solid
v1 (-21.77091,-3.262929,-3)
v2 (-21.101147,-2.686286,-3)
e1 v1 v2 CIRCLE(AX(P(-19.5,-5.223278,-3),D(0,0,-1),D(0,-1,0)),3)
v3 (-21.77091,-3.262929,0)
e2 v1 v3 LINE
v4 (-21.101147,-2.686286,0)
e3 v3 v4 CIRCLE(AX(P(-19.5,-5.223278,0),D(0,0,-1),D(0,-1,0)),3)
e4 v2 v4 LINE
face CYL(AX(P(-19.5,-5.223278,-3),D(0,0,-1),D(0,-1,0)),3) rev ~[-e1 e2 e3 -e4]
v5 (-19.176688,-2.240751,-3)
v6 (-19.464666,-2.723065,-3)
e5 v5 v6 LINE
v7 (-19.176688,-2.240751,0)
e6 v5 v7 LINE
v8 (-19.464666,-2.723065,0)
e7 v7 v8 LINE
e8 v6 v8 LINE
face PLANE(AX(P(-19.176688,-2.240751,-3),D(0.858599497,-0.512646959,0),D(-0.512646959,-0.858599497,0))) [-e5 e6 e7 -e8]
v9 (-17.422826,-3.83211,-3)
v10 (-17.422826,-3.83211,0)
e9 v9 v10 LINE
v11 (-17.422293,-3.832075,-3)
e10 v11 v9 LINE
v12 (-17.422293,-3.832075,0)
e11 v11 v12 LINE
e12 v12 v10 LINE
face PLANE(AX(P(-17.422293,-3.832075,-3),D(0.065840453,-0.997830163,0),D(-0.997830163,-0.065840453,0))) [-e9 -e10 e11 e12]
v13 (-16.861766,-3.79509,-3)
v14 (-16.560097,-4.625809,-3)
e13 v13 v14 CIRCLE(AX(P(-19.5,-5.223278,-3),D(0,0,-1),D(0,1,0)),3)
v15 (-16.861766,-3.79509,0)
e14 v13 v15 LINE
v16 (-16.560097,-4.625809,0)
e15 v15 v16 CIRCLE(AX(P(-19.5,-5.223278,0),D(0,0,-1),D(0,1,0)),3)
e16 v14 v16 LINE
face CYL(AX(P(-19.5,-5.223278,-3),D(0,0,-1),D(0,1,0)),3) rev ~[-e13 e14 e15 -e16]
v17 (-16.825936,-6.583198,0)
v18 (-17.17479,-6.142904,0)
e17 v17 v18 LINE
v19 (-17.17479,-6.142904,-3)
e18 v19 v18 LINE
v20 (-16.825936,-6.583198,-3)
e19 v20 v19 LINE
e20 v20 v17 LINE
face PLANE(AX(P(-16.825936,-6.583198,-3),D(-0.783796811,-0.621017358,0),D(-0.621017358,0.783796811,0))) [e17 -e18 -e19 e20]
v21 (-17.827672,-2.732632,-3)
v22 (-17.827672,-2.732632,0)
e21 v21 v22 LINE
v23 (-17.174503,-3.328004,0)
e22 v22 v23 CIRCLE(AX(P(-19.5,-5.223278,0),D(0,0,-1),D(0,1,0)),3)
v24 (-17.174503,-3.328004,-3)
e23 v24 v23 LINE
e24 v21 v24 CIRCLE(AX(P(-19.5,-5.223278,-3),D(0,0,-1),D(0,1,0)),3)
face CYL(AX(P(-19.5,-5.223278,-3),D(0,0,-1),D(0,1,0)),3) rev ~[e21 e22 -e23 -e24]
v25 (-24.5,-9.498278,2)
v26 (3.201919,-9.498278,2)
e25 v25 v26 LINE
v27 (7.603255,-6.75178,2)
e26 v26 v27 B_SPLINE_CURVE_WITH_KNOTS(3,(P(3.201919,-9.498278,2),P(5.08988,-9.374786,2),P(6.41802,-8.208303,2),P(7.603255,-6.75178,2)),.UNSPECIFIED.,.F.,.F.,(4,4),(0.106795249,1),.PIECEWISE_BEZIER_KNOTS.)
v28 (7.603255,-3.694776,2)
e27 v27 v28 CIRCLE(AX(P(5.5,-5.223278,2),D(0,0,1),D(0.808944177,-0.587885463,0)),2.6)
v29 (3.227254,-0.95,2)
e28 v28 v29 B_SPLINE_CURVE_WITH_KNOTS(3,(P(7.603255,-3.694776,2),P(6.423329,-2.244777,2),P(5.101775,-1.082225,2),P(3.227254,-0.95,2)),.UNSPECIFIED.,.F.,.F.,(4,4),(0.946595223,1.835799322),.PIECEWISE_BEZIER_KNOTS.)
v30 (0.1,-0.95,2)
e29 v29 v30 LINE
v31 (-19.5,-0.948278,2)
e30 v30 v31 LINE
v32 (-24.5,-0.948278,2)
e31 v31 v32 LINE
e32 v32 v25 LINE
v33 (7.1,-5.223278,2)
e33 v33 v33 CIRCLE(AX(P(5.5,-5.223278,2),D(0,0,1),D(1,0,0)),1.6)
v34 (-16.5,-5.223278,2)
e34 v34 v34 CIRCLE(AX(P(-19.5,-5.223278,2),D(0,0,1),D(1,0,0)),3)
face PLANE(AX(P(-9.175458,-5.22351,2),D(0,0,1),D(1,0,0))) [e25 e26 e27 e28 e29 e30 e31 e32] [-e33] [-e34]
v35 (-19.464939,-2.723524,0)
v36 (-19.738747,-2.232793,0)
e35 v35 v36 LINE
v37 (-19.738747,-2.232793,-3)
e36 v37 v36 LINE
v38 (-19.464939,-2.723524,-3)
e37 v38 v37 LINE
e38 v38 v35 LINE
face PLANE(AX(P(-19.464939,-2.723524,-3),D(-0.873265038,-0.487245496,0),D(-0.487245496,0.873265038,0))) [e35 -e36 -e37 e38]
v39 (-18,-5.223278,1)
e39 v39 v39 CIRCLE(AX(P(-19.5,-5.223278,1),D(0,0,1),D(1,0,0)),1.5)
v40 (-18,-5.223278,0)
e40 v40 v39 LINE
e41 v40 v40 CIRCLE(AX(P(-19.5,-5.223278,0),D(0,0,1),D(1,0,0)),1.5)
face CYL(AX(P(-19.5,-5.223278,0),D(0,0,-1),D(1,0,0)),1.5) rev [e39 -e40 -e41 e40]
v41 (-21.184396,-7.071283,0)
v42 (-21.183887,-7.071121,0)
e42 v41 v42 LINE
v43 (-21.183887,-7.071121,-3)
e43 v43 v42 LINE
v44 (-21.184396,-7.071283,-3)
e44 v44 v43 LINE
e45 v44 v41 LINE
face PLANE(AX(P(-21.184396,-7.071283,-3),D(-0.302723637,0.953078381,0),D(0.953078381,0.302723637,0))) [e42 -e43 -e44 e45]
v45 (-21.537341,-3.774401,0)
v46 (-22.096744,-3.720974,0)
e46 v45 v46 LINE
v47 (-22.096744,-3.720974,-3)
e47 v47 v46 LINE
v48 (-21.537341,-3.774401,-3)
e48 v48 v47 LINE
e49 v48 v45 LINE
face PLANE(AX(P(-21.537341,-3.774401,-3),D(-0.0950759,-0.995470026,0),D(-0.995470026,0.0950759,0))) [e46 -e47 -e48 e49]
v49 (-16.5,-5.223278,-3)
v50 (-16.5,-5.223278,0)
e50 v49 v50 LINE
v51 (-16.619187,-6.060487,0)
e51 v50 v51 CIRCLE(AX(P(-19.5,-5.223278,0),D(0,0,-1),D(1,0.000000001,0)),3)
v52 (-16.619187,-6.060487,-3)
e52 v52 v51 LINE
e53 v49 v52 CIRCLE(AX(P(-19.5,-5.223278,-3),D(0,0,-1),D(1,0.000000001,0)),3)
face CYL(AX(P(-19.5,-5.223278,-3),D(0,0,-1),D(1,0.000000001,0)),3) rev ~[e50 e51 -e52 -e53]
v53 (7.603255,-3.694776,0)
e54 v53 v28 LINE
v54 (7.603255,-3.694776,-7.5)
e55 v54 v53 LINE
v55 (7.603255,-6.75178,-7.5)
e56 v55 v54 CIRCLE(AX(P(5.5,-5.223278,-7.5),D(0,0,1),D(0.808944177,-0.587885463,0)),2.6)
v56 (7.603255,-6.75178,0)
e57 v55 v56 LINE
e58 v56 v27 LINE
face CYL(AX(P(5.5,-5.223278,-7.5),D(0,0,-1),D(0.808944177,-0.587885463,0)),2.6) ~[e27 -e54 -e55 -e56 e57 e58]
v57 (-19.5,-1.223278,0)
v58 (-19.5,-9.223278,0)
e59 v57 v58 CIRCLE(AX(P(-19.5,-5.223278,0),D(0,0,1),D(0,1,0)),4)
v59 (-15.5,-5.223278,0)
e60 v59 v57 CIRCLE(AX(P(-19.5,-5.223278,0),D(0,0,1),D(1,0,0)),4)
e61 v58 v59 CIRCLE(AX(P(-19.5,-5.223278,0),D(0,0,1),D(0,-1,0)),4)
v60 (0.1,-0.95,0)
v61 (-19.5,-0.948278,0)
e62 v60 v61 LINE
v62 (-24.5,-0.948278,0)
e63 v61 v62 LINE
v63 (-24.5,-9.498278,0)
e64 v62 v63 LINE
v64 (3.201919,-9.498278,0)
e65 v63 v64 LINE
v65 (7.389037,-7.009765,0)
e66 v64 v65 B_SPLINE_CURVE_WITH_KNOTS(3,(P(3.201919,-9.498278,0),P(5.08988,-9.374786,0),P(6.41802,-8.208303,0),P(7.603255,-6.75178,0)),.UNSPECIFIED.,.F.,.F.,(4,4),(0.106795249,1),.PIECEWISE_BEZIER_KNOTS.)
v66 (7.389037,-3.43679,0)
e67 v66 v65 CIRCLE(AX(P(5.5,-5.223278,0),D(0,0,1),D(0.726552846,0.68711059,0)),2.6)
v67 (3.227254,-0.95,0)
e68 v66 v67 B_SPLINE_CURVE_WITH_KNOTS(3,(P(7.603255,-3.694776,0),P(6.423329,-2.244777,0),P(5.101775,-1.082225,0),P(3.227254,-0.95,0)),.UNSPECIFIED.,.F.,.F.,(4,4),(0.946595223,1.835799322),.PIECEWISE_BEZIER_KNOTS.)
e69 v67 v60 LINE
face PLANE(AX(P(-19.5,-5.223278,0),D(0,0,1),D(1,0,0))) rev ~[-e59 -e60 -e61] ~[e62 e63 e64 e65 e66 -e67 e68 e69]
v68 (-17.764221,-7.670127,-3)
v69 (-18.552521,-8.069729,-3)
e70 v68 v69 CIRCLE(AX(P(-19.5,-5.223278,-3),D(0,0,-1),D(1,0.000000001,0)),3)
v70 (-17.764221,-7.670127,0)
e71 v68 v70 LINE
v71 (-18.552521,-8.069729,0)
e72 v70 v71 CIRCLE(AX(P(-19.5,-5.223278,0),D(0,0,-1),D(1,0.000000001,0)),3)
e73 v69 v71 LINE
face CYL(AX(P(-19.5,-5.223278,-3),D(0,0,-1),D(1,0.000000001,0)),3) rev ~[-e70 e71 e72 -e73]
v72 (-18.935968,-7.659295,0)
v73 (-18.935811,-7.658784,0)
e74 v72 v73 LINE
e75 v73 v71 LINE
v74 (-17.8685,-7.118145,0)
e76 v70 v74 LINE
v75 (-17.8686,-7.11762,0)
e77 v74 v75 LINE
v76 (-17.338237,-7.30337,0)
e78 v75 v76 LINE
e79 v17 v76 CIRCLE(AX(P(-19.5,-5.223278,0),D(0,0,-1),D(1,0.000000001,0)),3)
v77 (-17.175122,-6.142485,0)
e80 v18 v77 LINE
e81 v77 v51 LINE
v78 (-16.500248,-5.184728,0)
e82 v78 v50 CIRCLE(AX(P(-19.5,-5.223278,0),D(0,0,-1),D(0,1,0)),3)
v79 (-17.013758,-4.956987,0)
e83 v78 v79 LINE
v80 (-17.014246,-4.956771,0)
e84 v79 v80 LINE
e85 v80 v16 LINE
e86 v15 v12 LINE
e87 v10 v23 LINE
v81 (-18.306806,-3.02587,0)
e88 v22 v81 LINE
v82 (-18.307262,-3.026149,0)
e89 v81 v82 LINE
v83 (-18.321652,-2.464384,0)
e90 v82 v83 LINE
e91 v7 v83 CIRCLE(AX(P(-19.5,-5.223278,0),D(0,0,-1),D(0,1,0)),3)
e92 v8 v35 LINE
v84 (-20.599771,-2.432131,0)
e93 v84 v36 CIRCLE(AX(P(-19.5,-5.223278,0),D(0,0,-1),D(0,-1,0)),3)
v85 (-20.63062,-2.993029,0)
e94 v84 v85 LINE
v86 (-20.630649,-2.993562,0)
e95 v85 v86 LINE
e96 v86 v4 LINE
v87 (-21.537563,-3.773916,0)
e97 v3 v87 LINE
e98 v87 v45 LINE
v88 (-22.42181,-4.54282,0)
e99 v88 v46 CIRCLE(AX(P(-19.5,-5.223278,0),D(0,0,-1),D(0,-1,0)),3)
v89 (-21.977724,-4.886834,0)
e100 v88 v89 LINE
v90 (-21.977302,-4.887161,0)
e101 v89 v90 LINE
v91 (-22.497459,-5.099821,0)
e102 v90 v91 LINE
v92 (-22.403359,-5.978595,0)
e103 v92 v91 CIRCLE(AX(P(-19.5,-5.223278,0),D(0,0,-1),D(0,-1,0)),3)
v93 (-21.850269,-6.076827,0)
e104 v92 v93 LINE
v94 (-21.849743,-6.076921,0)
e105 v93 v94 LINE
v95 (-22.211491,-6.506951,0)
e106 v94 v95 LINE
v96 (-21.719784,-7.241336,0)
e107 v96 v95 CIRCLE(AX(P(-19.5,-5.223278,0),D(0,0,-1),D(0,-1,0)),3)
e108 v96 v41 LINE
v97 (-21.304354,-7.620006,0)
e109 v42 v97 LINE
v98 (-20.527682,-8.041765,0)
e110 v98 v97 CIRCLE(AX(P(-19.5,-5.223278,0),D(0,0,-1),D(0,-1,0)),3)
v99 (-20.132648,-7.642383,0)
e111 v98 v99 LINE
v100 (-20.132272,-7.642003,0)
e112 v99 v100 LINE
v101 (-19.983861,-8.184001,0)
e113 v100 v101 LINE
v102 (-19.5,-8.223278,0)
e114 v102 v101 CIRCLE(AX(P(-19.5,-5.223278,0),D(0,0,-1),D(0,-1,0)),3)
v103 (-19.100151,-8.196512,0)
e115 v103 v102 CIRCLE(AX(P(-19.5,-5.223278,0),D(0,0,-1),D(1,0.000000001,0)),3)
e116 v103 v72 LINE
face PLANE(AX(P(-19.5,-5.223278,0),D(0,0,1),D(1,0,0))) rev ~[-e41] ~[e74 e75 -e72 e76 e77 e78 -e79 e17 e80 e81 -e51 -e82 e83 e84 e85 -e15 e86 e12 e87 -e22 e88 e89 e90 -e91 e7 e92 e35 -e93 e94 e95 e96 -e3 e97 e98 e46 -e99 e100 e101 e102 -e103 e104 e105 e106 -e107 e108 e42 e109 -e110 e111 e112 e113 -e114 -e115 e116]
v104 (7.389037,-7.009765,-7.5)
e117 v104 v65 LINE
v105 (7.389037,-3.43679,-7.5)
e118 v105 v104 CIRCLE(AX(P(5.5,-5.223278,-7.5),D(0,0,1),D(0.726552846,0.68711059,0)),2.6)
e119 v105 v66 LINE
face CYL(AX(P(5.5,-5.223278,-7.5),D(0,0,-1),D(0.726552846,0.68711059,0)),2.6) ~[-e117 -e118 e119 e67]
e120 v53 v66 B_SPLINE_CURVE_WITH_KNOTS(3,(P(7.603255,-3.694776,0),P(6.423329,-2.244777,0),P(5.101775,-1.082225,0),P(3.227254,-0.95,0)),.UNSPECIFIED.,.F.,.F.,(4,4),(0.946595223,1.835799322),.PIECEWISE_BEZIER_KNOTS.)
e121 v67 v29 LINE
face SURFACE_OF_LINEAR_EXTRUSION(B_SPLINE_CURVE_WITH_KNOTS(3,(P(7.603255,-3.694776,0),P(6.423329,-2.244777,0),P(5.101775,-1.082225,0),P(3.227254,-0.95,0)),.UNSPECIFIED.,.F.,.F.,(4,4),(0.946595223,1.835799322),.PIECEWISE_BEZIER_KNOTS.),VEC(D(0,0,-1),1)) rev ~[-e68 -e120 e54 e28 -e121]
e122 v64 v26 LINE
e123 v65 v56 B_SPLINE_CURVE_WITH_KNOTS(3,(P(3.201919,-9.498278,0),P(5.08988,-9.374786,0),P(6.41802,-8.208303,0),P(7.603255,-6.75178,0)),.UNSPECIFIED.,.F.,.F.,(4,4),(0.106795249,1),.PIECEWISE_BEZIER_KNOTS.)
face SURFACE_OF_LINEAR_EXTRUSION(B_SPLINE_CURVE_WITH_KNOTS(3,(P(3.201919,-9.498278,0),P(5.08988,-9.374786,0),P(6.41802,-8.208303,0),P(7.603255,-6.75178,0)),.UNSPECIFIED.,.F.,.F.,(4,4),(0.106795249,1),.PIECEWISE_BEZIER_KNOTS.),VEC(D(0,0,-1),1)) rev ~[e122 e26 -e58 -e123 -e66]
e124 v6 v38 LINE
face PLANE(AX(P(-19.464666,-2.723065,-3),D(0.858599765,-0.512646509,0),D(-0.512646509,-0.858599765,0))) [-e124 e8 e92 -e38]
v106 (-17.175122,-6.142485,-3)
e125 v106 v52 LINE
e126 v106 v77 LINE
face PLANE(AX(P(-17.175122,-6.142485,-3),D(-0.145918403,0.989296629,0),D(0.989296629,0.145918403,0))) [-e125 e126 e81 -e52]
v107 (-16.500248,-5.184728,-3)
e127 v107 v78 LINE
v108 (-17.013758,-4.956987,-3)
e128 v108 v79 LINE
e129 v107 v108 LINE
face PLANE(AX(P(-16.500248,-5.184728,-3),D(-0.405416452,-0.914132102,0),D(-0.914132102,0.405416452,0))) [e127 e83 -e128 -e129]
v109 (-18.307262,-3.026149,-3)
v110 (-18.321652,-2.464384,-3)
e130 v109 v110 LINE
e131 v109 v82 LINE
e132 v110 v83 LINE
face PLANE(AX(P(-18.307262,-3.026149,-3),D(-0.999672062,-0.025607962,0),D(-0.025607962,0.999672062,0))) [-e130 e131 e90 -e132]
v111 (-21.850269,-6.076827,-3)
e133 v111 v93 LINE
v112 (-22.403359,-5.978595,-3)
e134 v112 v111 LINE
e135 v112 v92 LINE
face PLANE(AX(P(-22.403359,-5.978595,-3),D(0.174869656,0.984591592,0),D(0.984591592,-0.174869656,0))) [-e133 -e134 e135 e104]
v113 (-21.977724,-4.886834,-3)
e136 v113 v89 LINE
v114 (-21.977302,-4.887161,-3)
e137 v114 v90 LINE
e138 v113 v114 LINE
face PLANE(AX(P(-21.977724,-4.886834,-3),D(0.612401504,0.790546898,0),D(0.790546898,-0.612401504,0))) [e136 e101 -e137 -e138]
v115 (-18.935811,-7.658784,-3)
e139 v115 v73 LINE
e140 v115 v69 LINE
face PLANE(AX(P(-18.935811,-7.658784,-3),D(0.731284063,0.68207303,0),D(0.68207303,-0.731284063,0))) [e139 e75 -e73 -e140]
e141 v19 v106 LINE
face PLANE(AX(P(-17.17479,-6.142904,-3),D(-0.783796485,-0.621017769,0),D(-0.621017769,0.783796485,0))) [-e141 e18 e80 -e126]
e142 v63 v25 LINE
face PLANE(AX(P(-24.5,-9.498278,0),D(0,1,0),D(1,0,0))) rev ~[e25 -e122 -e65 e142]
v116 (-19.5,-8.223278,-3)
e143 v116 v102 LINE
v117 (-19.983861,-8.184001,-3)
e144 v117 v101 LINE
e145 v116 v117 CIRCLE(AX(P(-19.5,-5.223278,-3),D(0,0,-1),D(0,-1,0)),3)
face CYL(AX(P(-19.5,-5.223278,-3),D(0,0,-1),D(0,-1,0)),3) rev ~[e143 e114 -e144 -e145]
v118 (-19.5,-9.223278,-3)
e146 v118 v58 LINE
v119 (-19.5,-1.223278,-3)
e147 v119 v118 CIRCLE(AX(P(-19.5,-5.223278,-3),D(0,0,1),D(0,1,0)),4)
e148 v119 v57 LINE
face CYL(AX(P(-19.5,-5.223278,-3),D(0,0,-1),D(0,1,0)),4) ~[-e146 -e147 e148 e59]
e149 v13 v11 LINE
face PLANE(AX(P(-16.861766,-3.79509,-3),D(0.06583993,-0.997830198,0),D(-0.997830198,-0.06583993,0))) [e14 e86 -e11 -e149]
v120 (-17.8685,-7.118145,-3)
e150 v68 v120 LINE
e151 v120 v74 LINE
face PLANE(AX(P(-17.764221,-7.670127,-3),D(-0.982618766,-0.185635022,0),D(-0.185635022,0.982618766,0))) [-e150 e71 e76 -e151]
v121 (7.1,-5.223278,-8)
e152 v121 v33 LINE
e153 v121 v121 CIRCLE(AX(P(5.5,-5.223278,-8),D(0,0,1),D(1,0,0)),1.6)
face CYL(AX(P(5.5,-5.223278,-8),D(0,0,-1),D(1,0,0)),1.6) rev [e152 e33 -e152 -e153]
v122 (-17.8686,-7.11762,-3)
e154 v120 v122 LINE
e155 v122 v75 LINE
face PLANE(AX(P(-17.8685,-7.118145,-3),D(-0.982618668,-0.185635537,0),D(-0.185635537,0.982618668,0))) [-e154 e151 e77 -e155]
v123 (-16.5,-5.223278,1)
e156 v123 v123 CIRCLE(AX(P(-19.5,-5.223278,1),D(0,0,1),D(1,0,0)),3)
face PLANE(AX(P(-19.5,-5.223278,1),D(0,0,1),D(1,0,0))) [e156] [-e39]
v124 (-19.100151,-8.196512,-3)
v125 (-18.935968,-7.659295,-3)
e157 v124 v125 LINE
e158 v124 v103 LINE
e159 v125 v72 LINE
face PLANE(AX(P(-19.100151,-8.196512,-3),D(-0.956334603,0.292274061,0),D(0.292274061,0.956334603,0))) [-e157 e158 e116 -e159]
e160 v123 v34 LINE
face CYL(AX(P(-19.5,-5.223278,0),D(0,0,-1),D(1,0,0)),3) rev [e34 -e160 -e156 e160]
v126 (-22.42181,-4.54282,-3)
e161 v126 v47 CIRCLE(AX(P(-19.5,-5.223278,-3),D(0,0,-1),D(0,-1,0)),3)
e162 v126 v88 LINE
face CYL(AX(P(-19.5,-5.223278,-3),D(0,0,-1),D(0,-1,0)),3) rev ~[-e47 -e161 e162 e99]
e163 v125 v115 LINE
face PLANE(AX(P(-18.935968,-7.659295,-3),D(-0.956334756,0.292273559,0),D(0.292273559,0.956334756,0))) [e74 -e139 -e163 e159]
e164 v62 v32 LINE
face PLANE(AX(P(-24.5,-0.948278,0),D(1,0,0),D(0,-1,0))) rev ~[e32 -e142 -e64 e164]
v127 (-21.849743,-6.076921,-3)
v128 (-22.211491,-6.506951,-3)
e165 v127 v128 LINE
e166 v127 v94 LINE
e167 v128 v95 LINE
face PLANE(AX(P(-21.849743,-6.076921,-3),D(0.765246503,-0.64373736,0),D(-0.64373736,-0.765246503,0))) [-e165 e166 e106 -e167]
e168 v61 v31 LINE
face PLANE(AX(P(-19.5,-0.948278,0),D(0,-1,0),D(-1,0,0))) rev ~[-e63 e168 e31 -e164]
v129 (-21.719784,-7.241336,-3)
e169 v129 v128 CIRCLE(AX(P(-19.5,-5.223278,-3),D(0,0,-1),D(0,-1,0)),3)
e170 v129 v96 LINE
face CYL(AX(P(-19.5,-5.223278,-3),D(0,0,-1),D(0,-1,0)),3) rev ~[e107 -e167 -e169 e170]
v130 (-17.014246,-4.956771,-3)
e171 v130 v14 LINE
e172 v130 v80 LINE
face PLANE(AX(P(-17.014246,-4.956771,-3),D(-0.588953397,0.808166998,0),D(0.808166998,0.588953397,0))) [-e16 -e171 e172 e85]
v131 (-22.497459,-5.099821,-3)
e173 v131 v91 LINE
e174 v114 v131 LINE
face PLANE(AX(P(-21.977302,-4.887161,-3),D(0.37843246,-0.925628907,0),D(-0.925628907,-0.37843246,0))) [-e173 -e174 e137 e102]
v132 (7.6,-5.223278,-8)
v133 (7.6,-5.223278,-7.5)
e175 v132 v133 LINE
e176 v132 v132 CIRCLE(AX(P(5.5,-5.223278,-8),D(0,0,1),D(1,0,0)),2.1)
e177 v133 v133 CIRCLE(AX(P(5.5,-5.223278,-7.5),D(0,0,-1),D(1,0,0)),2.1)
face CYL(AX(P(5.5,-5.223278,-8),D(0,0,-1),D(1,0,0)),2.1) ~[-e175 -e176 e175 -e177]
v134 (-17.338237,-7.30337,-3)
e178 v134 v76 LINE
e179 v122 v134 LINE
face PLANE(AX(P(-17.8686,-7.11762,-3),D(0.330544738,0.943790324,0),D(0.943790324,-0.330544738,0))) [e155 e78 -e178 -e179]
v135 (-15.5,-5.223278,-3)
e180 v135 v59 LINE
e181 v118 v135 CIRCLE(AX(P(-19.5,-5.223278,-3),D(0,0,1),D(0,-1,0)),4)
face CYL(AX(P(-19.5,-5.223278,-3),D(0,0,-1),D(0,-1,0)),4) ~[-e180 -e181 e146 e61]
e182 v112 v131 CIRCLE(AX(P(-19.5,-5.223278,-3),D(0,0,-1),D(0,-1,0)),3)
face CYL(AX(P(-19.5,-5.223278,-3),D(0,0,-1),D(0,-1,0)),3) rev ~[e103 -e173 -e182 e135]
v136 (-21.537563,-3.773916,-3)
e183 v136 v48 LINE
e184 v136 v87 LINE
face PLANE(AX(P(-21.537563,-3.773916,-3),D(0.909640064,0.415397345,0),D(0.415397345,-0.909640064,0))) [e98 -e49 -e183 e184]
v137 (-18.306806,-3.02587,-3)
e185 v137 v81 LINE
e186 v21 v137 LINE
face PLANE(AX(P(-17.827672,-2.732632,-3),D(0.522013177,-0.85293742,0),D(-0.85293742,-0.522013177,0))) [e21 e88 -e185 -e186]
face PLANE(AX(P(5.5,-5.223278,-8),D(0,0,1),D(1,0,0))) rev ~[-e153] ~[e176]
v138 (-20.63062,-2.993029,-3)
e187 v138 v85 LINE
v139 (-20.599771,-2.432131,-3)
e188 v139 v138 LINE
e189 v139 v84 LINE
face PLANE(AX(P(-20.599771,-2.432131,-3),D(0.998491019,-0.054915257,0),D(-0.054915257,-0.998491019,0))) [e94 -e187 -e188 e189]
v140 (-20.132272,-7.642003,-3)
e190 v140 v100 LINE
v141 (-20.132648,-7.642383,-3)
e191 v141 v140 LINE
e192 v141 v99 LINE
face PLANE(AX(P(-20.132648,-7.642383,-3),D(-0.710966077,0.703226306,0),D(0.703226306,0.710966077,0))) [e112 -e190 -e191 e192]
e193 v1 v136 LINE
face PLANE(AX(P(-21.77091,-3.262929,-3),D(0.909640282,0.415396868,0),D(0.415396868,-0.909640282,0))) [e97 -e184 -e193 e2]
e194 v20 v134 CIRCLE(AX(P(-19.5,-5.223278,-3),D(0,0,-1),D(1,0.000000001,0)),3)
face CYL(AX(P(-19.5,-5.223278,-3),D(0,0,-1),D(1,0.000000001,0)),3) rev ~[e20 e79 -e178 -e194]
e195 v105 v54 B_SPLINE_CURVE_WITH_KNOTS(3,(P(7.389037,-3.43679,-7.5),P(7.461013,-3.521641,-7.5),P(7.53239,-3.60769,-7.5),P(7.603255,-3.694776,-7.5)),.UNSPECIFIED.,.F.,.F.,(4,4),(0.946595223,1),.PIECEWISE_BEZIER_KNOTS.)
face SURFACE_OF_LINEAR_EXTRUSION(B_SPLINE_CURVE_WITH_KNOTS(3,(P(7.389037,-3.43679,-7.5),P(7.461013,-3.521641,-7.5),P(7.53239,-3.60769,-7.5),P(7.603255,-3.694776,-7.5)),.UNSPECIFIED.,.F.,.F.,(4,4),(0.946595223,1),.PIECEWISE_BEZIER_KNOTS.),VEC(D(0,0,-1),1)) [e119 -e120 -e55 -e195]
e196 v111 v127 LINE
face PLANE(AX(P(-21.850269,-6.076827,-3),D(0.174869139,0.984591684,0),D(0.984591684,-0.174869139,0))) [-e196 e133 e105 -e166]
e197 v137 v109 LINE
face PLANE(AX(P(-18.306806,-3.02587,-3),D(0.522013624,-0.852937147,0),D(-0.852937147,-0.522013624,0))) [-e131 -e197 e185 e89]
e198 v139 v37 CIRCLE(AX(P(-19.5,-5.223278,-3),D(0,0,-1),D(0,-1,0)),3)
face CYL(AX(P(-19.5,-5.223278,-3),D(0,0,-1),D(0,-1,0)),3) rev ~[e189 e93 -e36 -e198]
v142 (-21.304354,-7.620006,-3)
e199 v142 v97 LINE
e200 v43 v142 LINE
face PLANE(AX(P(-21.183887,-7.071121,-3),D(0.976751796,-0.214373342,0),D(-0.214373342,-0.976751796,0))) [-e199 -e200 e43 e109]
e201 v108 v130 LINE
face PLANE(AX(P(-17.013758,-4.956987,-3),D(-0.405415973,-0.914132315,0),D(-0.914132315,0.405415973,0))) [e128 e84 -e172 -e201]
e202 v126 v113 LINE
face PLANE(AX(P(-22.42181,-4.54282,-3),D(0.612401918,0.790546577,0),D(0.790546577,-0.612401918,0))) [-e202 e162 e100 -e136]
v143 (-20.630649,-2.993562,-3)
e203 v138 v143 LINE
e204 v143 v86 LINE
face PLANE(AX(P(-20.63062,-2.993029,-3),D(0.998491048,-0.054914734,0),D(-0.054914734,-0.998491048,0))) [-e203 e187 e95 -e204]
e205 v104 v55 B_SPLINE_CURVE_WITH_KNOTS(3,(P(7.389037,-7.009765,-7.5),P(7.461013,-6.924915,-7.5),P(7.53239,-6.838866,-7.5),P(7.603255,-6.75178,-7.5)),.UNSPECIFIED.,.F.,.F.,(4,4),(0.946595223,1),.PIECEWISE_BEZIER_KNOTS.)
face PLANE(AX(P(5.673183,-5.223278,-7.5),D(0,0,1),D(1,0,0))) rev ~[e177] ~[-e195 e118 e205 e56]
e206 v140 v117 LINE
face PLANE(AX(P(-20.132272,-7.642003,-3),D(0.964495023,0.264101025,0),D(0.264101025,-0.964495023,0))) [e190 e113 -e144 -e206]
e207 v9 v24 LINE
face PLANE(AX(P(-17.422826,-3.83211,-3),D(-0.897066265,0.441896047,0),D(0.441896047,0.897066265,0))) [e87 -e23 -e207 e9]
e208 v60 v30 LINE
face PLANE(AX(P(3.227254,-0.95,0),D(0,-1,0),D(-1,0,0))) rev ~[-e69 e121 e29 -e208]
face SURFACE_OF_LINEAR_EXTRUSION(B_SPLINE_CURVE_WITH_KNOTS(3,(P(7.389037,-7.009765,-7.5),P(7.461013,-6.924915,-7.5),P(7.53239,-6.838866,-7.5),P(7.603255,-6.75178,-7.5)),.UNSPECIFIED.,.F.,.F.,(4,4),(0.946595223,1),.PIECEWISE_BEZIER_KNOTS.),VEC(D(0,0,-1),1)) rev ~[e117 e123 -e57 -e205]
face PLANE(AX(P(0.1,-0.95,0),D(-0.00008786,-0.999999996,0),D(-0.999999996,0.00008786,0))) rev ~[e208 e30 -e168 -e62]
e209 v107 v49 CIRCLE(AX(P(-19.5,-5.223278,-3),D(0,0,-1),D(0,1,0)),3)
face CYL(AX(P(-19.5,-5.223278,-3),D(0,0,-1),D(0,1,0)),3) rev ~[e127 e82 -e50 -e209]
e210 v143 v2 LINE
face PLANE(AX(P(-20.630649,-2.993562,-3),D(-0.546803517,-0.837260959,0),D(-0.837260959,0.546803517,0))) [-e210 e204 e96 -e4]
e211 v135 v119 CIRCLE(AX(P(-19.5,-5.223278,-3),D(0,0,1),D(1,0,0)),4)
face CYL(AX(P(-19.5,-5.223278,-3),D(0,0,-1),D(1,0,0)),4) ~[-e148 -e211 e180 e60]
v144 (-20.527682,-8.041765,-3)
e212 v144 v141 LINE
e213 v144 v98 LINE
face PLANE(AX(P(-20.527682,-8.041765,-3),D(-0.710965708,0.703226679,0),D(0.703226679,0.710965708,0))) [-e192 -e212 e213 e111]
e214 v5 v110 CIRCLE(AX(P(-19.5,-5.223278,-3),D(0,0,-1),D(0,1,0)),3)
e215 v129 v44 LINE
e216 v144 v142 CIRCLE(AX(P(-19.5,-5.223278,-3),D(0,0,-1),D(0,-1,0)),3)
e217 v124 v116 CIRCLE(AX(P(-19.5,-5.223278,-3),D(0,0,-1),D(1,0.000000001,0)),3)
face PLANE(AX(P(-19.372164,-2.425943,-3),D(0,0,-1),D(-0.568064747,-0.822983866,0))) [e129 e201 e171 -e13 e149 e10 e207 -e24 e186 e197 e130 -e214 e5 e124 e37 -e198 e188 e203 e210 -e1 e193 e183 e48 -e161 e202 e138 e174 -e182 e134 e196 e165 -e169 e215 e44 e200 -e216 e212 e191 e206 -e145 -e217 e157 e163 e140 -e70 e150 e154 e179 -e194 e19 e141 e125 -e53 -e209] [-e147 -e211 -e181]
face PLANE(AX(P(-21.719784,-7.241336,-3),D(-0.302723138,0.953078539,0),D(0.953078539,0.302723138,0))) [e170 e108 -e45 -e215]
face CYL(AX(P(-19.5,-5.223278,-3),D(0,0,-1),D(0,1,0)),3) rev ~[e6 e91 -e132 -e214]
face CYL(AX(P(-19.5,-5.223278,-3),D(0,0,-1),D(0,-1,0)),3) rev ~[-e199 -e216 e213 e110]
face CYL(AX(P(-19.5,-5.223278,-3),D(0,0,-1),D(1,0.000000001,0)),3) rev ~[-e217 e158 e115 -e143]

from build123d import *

# Parameters (mm, degrees)
ESBO_O1_R                 = 3
ESBO_O1_R_2               = 1.6
RESSALTO_EXTRUS_O1_DEPTH  = 2
ESBO_O1_4_R               = 3
ESBO_O1_4_R_2             = 1.5
RESSALTO_EXTRUS_O2_DEPTH  = 1
RESSALTO_EXTRUS_O3_START  = -7.5
ESBO_O1_5_R               = 1.6
RESSALTO_EXTRUS_O3_DEPTH  = 7.5
RESSALTO_EXTRUS_O18_START = -3
RESSALTO_EXTRUS_O18_DEPTH = 3
RESSALTO_EXTRUS_O21_START = -8
ESBO_O1_12_R              = 2.1
ESBO_O1_12_R_2            = 1.6
RESSALTO_EXTRUS_O21_DEPTH = 8
RESSALTO_EXTRUS_O22_DEPTH = 3
PADR_OCIRCULAR4_COUNT     = 13


with BuildPart() as part:
    # Esboço1 → Ressalto-extrusão1 (new body)
    with BuildSketch(Plane.XY):
        with BuildLine():
            add(Edge.make_bspline(
                [(3.201918926, -9.498277946), (5.089880376, -9.374786464), (6.418020478, -8.208302927), (7.603254861, -6.751780151)],
                knots=[0.106795249, 0.106795249, 0.106795249, 0.106795249, 1, 1, 1, 1], degree=3))
            ThreePointArc((7.603254861, -6.751780151), (8.1, -5.223277946), (7.603254861, -3.694775741))
            add(Edge.make_bspline(
                [(7.603254861, -3.694775741), (6.423329127, -2.244776711), (5.101774953, -1.082224575), (3.227253733, -0.95)],
                knots=[0.946595223, 0.946595223, 0.946595223, 0.946595223, 1.835799322, 1.835799322, 1.835799322, 1.835799322], degree=3))
            Line((3.227253733, -0.95), (0.099999924, -0.95))
            Line((0.099999924, -0.95), (-19.5, -0.948277946))
            Line((-19.5, -0.948277946), (-24.5, -0.948277946))
            Line((-24.5, -0.948277946), (-24.5, -9.498277946))
            Line((-24.5, -9.498277946), (3.201918926, -9.498277946))
        make_face()
        with Locations((-19.5, -5.223277946)):
            Circle(ESBO_O1_R, mode=Mode.SUBTRACT)
        with Locations((5.5, -5.223277946)):
            Circle(ESBO_O1_R_2, mode=Mode.SUBTRACT)
    extrude(amount=RESSALTO_EXTRUS_O1_DEPTH)

    # Esboço1<4> → Ressalto-extrusão2 (add)
    with BuildSketch(Plane.XY):
        with Locations((-19.5, -5.223277946)):
            Circle(ESBO_O1_4_R)
        with Locations((-19.5, -5.223277946)):
            Circle(ESBO_O1_4_R_2, mode=Mode.SUBTRACT)
    extrude(amount=RESSALTO_EXTRUS_O2_DEPTH)

    # Esboço1<5> → Ressalto-extrusão3 (add)
    with BuildSketch(Plane.XY.offset(RESSALTO_EXTRUS_O3_START)):
        with BuildLine():
            ThreePointArc((7.389037399, -3.436790413), (2.9, -5.223277946), (7.389037399, -7.009765479))
            add(Edge.make_bspline(
                [(7.389037399, -7.009765479), (7.461013495, -6.924914508), (7.532389611, -6.838865753), (7.603254861, -6.751780151)],
                knots=[0.946595223, 0.946595223, 0.946595223, 0.946595223, 1, 1, 1, 1], degree=3))
            ThreePointArc((7.603254861, -6.751780151), (8.1, -5.223277946), (7.603254861, -3.694775741))
            add(Edge.make_bspline(
                [(7.389037399, -3.436790413), (7.461013495, -3.521641384), (7.532389611, -3.607690139), (7.603254861, -3.694775741)],
                knots=[0.946595223, 0.946595223, 0.946595223, 0.946595223, 1, 1, 1, 1], degree=3))
        make_face()
        with Locations((5.5, -5.223277946)):
            Circle(ESBO_O1_5_R, mode=Mode.SUBTRACT)
    extrude(amount=RESSALTO_EXTRUS_O3_DEPTH)

    # Esboço1<10> → Ressalto-extrusão18 (add)
    with BuildSketch(Plane.XY.offset(RESSALTO_EXTRUS_O18_START)):
        with BuildLine():
            ThreePointArc((-19.5, -1.223277946), (-23.5, -5.223277946), (-19.5, -9.223277946))
            Line((-19.5, -9.223277946), (-19.5, -8.223277946))
            ThreePointArc((-19.5, -8.223277946), (-22.5, -5.223277946), (-19.5, -2.223277946))
            Line((-19.5, -2.223277946), (-19.5, -1.223277946))
        make_face()
        with BuildLine():
            Line((-19.5, -8.223277946), (-19.5, -9.223277946))
            ThreePointArc((-19.5, -9.223277946), (-16.671572875, -8.051705071), (-15.5, -5.223277946))
            ThreePointArc((-15.5, -5.223277946), (-16.671572875, -2.394850821), (-19.5, -1.223277946))
            Line((-19.5, -1.223277946), (-19.5, -2.223277946))
            ThreePointArc((-19.5, -2.223277946), (-17.378679656, -3.101957603), (-16.5, -5.223277946))
            ThreePointArc((-16.5, -5.223277946), (-17.378679656, -7.34459829), (-19.5, -8.223277946))
        make_face()
    extrude(amount=RESSALTO_EXTRUS_O18_DEPTH)

    # Esboço1<12> → Ressalto-extrusão21 (add)
    with BuildSketch(Plane.XY.offset(RESSALTO_EXTRUS_O21_START)):
        with Locations((5.5, -5.223277946)):
            Circle(ESBO_O1_12_R)
        with Locations((5.5, -5.223277946)):
            Circle(ESBO_O1_12_R_2, mode=Mode.SUBTRACT)
    extrude(amount=RESSALTO_EXTRUS_O21_DEPTH)

    # Esboço4 → Ressalto-extrusão22 (add)
    with BuildSketch(Plane(origin=(0, 0, -3), x_dir=(-1, 0, 0), z_dir=(0, 0, -1))):
        with BuildLine():
            Line((16.861766136, -3.795089556), (17.42229309, -3.832074862))
            Line((17.42229309, -3.832074862), (17.007212736, -3.554142944))
            ThreePointArc((17.007212736, -3.554142944), (16.931662352, -3.67290969), (16.861766136, -3.795089556))
        make_face()
        with BuildLine():
            Line((17.007212736, -3.554142944), (17.42229309, -3.832074862))
            Line((17.42229309, -3.832074862), (17.422825904, -3.832110019))
            Line((17.422825904, -3.832110019), (17.174502722, -3.328004244))
            ThreePointArc((17.174502722, -3.328004244), (17.088205821, -3.439111799), (17.007212736, -3.554142944))
        make_face()
    ressalto_extrus_o22 = extrude(amount=-RESSALTO_EXTRUS_O22_DEPTH)

    # PadrãoCircular4: Ressalto-extrusão22 ×13 about axis
    padr_ocircular4_axis = Axis((-19.5, -5.223277946, 0), (0, 0, 1))
    for i in range(1, PADR_OCIRCULAR4_COUNT):
        add(ressalto_extrus_o22.rotate(padr_ocircular4_axis, i * 360 / PADR_OCIRCULAR4_COUNT))


solid = part.part
